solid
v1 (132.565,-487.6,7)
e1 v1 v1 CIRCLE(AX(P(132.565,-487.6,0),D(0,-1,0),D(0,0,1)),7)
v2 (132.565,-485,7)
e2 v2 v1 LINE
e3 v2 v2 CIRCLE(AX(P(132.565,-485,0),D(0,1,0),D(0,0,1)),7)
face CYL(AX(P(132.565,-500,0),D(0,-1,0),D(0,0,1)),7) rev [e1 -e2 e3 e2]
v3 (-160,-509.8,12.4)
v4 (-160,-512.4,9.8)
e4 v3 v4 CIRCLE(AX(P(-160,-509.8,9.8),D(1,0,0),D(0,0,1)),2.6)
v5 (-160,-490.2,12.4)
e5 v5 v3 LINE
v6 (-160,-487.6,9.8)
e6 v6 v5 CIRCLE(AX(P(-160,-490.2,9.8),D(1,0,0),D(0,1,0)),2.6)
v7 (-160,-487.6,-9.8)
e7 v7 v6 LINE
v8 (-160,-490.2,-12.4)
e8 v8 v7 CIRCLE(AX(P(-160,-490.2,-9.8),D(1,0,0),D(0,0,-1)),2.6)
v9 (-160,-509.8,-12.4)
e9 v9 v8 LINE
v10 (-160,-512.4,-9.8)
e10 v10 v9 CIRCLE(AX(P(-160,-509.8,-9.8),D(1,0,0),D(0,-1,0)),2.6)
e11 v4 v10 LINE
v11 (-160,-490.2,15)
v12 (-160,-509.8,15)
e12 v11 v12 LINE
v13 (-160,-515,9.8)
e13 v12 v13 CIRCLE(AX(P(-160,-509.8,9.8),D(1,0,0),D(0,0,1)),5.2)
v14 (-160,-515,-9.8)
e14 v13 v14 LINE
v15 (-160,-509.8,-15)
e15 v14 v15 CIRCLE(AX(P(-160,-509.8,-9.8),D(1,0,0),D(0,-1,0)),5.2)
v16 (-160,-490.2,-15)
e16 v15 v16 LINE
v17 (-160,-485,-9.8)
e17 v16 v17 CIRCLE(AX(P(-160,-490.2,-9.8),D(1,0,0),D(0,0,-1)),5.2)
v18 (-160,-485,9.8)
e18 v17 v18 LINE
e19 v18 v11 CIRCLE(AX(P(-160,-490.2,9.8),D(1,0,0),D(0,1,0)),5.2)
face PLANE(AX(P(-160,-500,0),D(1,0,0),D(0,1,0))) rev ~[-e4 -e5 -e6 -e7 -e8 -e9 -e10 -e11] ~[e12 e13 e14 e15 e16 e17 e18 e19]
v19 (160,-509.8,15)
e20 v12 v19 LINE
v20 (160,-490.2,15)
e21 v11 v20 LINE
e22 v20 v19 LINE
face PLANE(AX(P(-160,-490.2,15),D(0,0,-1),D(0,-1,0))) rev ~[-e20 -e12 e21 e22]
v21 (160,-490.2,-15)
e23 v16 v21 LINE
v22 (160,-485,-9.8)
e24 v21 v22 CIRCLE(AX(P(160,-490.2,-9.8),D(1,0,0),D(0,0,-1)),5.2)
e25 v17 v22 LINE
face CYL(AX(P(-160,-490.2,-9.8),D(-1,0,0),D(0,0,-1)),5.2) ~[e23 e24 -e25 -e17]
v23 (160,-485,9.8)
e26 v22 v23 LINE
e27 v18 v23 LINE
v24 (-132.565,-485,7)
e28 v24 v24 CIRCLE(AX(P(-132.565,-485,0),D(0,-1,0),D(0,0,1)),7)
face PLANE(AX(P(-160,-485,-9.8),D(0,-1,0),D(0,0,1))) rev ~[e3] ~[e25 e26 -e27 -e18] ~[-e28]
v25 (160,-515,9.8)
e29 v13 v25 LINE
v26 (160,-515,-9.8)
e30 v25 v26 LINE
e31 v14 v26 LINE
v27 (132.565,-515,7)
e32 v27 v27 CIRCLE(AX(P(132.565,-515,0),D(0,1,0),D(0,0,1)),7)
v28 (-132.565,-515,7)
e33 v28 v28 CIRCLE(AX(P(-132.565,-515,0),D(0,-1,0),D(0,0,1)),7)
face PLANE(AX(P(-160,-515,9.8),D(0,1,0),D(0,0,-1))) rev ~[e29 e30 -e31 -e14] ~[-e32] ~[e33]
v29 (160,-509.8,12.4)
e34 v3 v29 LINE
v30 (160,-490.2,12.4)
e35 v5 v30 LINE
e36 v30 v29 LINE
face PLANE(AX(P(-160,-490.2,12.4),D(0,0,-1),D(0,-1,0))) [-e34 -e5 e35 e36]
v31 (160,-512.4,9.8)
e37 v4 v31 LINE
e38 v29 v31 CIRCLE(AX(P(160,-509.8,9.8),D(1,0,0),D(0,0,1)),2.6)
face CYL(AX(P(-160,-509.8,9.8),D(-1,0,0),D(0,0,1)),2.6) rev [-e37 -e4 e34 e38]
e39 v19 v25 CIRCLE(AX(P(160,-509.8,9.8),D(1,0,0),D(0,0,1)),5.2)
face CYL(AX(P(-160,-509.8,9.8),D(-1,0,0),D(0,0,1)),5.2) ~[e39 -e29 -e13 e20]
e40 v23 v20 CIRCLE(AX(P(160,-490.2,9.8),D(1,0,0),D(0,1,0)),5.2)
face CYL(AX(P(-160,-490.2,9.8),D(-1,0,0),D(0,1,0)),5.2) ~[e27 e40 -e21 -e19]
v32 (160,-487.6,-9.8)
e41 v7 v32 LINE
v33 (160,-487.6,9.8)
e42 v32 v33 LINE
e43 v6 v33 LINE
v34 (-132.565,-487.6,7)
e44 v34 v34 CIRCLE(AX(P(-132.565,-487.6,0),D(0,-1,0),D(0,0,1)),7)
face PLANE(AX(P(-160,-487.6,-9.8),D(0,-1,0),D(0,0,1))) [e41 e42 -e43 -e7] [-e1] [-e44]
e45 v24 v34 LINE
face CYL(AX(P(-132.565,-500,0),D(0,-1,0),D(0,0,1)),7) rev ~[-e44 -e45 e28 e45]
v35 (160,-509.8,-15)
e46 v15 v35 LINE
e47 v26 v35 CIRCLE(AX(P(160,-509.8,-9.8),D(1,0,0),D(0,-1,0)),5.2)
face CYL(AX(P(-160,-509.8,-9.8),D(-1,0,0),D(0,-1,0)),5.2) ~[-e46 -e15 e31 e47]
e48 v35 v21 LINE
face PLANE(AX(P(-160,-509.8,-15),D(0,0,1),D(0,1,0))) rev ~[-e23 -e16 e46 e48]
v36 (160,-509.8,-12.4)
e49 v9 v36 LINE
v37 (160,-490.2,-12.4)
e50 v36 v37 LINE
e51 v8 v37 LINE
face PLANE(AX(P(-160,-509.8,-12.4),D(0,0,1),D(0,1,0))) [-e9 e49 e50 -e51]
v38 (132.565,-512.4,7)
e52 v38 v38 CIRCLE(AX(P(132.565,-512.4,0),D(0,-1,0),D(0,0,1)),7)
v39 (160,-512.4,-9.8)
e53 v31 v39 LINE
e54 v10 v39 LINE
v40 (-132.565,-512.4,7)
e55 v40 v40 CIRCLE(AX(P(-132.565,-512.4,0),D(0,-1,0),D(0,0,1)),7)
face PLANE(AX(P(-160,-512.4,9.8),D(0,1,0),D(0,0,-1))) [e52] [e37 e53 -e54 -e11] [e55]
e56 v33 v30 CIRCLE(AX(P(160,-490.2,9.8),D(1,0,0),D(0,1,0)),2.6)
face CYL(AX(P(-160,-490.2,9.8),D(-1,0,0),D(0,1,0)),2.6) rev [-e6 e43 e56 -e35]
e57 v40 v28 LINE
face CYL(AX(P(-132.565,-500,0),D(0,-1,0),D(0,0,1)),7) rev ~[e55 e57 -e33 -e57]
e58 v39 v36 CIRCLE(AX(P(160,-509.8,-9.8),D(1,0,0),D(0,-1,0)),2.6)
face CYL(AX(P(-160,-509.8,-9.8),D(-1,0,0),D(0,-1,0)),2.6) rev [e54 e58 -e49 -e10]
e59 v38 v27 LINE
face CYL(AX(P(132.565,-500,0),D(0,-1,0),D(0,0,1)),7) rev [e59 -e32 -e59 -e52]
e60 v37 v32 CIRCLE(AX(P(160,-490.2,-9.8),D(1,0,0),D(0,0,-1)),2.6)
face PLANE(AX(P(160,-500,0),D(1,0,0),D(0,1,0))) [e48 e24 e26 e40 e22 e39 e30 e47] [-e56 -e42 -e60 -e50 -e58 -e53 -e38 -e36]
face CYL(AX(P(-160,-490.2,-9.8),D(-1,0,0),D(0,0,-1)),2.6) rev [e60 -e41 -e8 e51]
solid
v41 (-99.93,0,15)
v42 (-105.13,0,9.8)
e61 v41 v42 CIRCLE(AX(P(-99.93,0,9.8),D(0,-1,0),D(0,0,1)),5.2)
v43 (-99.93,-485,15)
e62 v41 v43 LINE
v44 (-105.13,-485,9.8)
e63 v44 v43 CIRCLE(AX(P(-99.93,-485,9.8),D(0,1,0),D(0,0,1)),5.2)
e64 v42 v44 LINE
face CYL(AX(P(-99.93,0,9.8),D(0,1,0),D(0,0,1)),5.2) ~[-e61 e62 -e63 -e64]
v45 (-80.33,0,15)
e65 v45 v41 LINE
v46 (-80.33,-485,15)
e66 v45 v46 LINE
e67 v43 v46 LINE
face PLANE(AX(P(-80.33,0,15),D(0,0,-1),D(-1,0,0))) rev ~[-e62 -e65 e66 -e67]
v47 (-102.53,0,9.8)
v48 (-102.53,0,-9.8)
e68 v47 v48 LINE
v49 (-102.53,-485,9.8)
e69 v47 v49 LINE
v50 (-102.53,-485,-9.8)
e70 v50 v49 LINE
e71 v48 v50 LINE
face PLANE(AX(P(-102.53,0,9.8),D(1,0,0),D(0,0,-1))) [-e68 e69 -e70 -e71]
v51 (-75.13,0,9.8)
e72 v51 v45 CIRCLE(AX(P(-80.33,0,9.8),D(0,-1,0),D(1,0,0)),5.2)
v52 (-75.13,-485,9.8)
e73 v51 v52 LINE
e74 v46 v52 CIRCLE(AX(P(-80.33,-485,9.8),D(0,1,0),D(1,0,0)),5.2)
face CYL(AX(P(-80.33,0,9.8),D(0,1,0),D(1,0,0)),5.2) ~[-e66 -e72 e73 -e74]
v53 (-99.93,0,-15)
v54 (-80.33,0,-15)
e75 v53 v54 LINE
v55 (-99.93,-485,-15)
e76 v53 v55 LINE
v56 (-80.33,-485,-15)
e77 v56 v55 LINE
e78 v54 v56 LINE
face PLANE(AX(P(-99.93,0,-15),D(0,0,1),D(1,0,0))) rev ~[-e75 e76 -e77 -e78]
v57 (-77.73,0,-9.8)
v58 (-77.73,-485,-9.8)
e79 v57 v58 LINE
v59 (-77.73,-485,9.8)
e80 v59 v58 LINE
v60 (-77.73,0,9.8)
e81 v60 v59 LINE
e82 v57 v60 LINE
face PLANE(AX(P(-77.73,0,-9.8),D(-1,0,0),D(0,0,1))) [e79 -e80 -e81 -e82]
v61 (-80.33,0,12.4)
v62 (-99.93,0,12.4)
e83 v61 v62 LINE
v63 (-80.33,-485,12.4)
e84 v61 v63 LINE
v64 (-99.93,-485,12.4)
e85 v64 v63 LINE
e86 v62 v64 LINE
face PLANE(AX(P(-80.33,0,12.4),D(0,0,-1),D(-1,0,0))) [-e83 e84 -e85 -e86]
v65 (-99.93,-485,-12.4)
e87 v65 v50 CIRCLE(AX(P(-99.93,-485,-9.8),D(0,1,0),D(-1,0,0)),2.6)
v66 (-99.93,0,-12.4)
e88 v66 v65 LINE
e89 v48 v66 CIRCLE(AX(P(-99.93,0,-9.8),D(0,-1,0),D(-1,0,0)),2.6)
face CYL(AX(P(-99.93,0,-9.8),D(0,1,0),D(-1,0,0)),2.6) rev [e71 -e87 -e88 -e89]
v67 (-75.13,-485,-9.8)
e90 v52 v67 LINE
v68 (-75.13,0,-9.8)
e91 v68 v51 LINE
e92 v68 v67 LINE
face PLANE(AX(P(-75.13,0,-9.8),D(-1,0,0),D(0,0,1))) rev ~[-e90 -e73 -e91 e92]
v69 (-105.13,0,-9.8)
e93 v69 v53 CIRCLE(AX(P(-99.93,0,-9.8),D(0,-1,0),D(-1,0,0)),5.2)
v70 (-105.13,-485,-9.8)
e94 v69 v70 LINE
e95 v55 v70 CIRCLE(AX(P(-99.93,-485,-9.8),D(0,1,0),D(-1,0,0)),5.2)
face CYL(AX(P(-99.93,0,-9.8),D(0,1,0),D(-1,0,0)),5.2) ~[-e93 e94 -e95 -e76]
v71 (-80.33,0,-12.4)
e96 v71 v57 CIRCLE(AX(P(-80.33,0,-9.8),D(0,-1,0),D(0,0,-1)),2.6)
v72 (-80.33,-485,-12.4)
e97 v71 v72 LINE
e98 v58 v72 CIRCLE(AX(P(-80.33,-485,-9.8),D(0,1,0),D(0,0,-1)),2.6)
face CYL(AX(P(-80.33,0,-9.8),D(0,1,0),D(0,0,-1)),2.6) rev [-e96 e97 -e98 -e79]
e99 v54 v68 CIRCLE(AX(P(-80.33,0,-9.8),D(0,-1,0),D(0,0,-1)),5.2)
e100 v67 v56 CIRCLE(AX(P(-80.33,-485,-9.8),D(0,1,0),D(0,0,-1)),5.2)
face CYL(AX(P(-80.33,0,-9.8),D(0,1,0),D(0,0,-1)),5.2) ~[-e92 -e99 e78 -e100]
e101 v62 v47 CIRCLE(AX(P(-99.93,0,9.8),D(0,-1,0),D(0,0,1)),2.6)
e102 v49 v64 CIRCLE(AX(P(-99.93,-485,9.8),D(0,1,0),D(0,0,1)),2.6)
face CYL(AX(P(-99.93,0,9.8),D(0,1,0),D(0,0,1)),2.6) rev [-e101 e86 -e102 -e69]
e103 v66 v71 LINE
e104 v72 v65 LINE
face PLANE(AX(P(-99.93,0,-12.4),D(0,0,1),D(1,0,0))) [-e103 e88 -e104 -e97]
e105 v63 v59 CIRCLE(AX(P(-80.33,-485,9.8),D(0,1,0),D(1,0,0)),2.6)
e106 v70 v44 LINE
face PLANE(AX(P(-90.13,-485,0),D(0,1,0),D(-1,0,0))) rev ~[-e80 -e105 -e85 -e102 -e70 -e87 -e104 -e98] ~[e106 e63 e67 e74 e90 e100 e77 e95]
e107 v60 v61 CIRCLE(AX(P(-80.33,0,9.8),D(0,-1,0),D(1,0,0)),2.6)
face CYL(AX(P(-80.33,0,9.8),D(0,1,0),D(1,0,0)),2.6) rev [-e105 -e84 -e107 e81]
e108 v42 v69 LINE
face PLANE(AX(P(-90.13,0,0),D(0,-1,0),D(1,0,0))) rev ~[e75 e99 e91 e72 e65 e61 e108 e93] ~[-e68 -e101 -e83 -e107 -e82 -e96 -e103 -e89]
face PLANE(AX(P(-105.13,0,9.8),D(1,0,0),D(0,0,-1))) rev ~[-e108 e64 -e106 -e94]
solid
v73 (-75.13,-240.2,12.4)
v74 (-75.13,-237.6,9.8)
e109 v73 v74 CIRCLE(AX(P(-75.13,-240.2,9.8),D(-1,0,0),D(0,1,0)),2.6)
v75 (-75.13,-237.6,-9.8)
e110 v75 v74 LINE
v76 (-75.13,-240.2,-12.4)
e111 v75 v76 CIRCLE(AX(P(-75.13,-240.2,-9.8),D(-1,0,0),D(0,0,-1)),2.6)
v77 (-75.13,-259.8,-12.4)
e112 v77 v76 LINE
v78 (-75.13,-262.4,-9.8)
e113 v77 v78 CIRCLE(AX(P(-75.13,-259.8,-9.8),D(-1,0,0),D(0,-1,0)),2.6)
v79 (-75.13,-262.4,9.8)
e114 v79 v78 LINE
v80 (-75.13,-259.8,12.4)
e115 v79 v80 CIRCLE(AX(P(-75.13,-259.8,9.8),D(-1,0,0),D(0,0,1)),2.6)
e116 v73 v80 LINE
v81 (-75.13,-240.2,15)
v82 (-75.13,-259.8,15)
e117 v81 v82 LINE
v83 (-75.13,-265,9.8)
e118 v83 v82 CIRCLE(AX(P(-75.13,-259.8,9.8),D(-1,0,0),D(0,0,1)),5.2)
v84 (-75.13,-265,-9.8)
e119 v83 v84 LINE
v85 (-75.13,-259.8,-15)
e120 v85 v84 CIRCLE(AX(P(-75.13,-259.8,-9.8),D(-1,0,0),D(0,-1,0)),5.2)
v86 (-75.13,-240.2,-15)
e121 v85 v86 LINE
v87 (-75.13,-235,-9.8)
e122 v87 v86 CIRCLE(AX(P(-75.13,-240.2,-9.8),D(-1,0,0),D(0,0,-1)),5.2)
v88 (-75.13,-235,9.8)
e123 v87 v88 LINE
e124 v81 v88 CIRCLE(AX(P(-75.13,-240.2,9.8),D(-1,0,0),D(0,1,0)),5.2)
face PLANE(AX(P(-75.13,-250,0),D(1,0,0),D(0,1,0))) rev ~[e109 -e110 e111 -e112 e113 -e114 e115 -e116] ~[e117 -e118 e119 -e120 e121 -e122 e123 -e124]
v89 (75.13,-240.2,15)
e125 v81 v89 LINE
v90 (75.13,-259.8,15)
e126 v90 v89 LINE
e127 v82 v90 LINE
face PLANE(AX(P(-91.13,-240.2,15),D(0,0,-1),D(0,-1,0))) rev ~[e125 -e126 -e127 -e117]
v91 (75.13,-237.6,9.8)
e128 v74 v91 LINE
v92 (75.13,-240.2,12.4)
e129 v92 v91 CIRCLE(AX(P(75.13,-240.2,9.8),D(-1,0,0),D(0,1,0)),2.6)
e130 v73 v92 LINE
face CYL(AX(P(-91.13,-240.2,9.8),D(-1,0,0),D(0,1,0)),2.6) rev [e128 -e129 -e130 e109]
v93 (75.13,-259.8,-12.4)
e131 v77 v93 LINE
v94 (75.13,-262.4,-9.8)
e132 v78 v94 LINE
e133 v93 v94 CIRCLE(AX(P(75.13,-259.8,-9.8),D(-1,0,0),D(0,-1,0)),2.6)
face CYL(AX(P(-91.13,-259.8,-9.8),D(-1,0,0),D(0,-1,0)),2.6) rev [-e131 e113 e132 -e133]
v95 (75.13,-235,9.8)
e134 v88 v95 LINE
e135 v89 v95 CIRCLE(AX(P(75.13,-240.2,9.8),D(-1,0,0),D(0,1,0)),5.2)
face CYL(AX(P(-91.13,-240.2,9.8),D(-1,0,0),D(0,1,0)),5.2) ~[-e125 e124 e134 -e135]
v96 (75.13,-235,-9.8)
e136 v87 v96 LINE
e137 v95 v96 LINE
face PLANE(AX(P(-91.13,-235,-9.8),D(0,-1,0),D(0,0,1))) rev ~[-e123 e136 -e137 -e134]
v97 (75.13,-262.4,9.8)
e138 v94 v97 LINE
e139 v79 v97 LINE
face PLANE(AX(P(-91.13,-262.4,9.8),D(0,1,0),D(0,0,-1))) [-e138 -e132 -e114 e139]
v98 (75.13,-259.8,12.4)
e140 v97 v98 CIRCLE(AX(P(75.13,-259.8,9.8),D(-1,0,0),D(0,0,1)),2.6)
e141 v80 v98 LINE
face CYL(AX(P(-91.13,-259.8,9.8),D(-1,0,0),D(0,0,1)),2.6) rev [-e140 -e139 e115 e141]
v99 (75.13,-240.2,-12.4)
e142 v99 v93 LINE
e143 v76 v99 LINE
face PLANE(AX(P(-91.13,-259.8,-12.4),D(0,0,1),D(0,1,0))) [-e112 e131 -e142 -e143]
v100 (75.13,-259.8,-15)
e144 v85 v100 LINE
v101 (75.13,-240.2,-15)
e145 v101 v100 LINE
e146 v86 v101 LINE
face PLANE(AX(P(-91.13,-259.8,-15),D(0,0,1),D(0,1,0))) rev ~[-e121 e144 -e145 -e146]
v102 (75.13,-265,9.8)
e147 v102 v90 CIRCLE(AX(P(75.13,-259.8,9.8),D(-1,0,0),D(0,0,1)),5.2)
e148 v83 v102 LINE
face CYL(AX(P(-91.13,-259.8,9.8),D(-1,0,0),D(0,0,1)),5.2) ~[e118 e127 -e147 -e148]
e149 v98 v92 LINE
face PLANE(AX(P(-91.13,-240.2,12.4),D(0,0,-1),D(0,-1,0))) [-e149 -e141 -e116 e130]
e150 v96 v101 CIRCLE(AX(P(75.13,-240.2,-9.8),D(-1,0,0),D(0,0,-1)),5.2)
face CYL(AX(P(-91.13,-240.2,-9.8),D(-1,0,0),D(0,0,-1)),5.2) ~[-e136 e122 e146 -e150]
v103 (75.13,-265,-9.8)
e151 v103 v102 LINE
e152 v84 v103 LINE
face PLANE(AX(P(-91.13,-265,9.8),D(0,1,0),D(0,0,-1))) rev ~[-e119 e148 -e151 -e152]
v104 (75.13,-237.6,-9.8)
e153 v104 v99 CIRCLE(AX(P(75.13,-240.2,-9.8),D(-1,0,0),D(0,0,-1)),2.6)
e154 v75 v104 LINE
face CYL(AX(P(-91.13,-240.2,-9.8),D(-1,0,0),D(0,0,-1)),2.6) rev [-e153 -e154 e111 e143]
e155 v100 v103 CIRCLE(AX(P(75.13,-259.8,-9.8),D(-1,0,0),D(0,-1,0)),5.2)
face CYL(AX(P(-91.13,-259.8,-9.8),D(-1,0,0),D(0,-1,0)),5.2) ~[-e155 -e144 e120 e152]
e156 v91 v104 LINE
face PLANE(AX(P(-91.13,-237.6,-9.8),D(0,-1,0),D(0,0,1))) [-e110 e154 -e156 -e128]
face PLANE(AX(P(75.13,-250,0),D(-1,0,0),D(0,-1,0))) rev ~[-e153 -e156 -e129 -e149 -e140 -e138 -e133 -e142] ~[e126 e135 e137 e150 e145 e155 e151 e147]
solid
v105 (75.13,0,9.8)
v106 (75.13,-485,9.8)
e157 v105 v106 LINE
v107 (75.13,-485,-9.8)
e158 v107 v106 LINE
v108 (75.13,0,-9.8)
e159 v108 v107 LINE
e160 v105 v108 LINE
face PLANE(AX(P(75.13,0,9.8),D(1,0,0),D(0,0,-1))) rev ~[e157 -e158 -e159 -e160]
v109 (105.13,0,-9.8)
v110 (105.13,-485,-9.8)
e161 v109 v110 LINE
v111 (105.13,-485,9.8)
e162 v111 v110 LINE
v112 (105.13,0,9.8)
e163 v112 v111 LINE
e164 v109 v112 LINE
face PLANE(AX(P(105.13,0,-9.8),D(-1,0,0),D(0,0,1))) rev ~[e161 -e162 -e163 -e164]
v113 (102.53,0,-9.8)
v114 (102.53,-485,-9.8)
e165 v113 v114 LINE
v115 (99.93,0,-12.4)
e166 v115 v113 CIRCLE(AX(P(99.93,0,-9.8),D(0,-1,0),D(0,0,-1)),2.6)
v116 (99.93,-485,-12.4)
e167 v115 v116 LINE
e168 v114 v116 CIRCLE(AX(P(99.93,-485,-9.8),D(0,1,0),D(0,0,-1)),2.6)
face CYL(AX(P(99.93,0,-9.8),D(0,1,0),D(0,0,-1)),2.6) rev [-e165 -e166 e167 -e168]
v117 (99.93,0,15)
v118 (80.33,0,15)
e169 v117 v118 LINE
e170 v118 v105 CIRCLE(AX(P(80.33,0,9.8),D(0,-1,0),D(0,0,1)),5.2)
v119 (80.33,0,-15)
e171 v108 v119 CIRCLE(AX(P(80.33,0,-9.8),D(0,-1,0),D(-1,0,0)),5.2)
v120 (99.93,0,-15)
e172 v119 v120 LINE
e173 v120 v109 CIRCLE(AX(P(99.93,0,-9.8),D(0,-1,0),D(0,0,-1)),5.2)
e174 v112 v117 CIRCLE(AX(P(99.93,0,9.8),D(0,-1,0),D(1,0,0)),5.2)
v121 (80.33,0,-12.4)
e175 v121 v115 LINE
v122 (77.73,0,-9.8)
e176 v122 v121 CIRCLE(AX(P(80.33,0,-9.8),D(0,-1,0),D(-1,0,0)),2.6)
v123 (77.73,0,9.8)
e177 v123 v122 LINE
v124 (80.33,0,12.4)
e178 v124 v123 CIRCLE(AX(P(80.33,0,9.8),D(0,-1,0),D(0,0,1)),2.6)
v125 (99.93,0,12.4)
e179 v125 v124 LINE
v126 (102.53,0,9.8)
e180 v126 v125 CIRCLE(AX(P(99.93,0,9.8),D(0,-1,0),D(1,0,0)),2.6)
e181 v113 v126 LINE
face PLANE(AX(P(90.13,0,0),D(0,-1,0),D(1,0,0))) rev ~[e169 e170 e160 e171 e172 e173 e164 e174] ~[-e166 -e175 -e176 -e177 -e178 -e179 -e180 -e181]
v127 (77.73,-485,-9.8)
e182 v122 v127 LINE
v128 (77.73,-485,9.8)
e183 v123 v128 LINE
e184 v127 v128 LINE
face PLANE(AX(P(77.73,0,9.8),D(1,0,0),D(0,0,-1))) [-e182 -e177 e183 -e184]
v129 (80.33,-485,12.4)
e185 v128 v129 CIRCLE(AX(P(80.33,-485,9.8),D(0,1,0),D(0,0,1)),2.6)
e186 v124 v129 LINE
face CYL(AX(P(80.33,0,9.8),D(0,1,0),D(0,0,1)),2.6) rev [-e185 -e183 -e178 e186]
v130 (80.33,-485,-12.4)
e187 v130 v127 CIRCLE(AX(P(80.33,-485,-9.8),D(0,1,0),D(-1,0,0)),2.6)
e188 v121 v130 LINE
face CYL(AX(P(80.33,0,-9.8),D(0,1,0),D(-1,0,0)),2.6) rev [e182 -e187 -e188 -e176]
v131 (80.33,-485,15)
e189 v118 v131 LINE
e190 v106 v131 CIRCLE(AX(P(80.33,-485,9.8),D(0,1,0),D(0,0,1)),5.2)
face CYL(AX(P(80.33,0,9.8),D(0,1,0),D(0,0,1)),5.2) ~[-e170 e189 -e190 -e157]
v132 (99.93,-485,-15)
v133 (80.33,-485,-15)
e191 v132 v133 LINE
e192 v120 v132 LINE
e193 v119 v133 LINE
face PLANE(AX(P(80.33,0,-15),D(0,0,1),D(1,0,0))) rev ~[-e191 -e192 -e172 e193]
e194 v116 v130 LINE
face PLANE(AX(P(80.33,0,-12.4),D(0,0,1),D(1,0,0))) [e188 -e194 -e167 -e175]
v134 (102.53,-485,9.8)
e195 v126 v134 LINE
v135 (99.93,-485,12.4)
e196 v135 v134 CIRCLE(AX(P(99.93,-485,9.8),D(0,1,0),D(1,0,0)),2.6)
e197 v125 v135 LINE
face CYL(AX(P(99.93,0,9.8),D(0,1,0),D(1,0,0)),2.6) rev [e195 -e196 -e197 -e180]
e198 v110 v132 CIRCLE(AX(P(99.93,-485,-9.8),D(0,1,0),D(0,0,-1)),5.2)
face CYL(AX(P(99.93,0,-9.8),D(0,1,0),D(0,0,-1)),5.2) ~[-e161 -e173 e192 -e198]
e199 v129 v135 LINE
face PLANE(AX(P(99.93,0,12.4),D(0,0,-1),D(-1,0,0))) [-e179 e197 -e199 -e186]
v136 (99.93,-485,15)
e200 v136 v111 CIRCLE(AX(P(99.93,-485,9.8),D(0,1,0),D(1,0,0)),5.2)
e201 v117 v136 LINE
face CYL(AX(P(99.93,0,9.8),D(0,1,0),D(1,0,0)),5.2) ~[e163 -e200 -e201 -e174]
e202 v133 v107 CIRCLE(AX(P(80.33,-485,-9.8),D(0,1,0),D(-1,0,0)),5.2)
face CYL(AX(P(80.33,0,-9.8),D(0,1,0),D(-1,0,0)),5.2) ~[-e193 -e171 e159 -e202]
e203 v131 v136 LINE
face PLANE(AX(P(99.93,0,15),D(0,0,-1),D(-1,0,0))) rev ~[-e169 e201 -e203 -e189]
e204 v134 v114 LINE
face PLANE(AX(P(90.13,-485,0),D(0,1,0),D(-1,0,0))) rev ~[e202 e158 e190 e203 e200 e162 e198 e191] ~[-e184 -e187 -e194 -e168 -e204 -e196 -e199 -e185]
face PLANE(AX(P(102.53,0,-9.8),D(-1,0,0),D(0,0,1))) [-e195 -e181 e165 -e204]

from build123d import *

# Parameters (mm, degrees)
SQUARE_TUBE_CONFIGURED_30_X_30_X_2_6_1_DEPTH = 501
SQUARE_TUBE_CONFIGURED_30_X_30_X_2_3_DEPTH   = 501
SQUARE_TUBE_CONFIGURED_30_X_30_X_2_4_DEPTH   = 320
SQUARE_TUBE_CONFIGURED_30_X_30_X_2_5_DEPTH   = 182.26
IZIM9_W                                      = 7
IZIM9_H                                      = 30


with BuildPart() as part:
    # Sketch1 → Square tube - configured 30 X 30 X 2.6(1) (new body)
    with BuildSketch(Plane(origin=(-90.13, 0, 0), x_dir=(1, 0, 0), z_dir=(0, -1, 0))):
        with BuildLine():
            Line((-9.8, -15), (9.8, -15))
            ThreePointArc((9.8, -15), (13.476955262, -13.476955262), (15, -9.8))
            Line((15, -9.8), (15, 9.8))
            ThreePointArc((15, 9.8), (13.476955262, 13.476955262), (9.8, 15))
            Line((9.8, 15), (-9.8, 15))
            ThreePointArc((-9.8, 15), (-13.476955262, 13.476955262), (-15, 9.8))
            Line((-15, 9.8), (-15, -9.8))
            ThreePointArc((-15, -9.8), (-13.476955262, -13.476955262), (-9.8, -15))
        make_face()
        with BuildLine():
            Line((-9.8, -12.4), (9.8, -12.4))
            ThreePointArc((9.8, -12.4), (11.638477631, -11.638477631), (12.4, -9.8))
            Line((12.4, -9.8), (12.4, 9.8))
            ThreePointArc((12.4, 9.8), (11.638477631, 11.638477631), (9.8, 12.4))
            Line((9.8, 12.4), (-9.8, 12.4))
            ThreePointArc((-9.8, 12.4), (-11.638477631, 11.638477631), (-12.4, 9.8))
            Line((-12.4, 9.8), (-12.4, -9.8))
            ThreePointArc((-12.4, -9.8), (-11.638477631, -11.638477631), (-9.8, -12.4))
        make_face(mode=Mode.SUBTRACT)
    extrude(amount=SQUARE_TUBE_CONFIGURED_30_X_30_X_2_6_1_DEPTH)

    # Square tube - configured 30 X 30 X 2 2
    split(bisect_by=Plane(origin=(-90.13, -485, 0), x_dir=(-1, 0, 0), z_dir=(0, 1, 0)), keep=Keep.TOP)


with BuildPart() as body_2:
    # Sketch1 on segment 2 (carried to segment 2) → Square tube - configured 30 X 30 X 2 3 (new body)
    with BuildSketch(Plane(origin=(90.13, 0, 0), x_dir=(1, 0, 0), z_dir=(0, -1, 0))):
        with BuildLine():
            Line((-9.8, -15), (9.8, -15))
            ThreePointArc((9.8, -15), (13.476955262, -13.476955262), (15, -9.8))
            Line((15, -9.8), (15, 9.8))
            ThreePointArc((15, 9.8), (13.476955262, 13.476955262), (9.8, 15))
            Line((9.8, 15), (-9.8, 15))
            ThreePointArc((-9.8, 15), (-13.476955262, 13.476955262), (-15, 9.8))
            Line((-15, 9.8), (-15, -9.8))
            ThreePointArc((-15, -9.8), (-13.476955262, -13.476955262), (-9.8, -15))
        make_face()
        with BuildLine():
            Line((-9.8, -12.4), (9.8, -12.4))
            ThreePointArc((9.8, -12.4), (11.638477631, -11.638477631), (12.4, -9.8))
            Line((12.4, -9.8), (12.4, 9.8))
            ThreePointArc((12.4, 9.8), (11.638477631, 11.638477631), (9.8, 12.4))
            Line((9.8, 12.4), (-9.8, 12.4))
            ThreePointArc((-9.8, 12.4), (-11.638477631, 11.638477631), (-12.4, 9.8))
            Line((-12.4, 9.8), (-12.4, -9.8))
            ThreePointArc((-12.4, -9.8), (-11.638477631, -11.638477631), (-9.8, -12.4))
        make_face(mode=Mode.SUBTRACT)
    extrude(amount=SQUARE_TUBE_CONFIGURED_30_X_30_X_2_3_DEPTH)

    # Square tube - configured 30 X 30 X 2 3 e
    split(bisect_by=Plane(origin=(90.13, -485, 0), x_dir=(-1, 0, 0), z_dir=(0, 1, 0)), keep=Keep.TOP)


with BuildPart() as body_3:
    # Sketch1 on segment 3 (carried to segment 3) → Square tube - configured 30 X 30 X 2 4 (new body)
    with BuildSketch(Plane(origin=(-160, -500, 0), x_dir=(0, 1, 0), z_dir=(1, 0, 0))):
        with BuildLine():
            Line((-9.8, -15), (9.8, -15))
            ThreePointArc((9.8, -15), (13.476955262, -13.476955262), (15, -9.8))
            Line((15, -9.8), (15, 9.8))
            ThreePointArc((15, 9.8), (13.476955262, 13.476955262), (9.8, 15))
            Line((9.8, 15), (-9.8, 15))
            ThreePointArc((-9.8, 15), (-13.476955262, 13.476955262), (-15, 9.8))
            Line((-15, 9.8), (-15, -9.8))
            ThreePointArc((-15, -9.8), (-13.476955262, -13.476955262), (-9.8, -15))
        make_face()
        with BuildLine():
            Line((-9.8, -12.4), (9.8, -12.4))
            ThreePointArc((9.8, -12.4), (11.638477631, -11.638477631), (12.4, -9.8))
            Line((12.4, -9.8), (12.4, 9.8))
            ThreePointArc((12.4, 9.8), (11.638477631, 11.638477631), (9.8, 12.4))
            Line((9.8, 12.4), (-9.8, 12.4))
            ThreePointArc((-9.8, 12.4), (-11.638477631, 11.638477631), (-12.4, 9.8))
            Line((-12.4, 9.8), (-12.4, -9.8))
            ThreePointArc((-12.4, -9.8), (-11.638477631, -11.638477631), (-9.8, -12.4))
        make_face(mode=Mode.SUBTRACT)
    extrude(amount=SQUARE_TUBE_CONFIGURED_30_X_30_X_2_4_DEPTH)

    # Çizim9 → M16 Dişli Delik1 (revolve, cut)
    with BuildSketch(Plane(origin=(-132.565, -485, 0), x_dir=(0, 0, 1), z_dir=(1, 0, 0))):
        with Locations((3.5, 15)):
            Rectangle(IZIM9_W, IZIM9_H)
    m16_di_li_delik1 = revolve(axis=Axis((-132.565, -478.65, 0), (0, -1, 0)), mode=Mode.SUBTRACT)

    # Aynalama1: M16 Dişli Delik1 across plane
    add(m16_di_li_delik1.mirror(Plane(origin=(0, 0, 0), x_dir=(0, 0, 1), z_dir=(1, 0, 0))), mode=Mode.SUBTRACT)


with BuildPart() as body_4:
    # Sketch1 on segment 4 (carried to segment 4) → Square tube - configured 30 X 30 X 2 5 (new body)
    with BuildSketch(Plane(origin=(-91.13, -250, 0), x_dir=(0, 1, 0), z_dir=(1, 0, 0))):
        with BuildLine():
            Line((-9.8, -15), (9.8, -15))
            ThreePointArc((9.8, -15), (13.476955262, -13.476955262), (15, -9.8))
            Line((15, -9.8), (15, 9.8))
            ThreePointArc((15, 9.8), (13.476955262, 13.476955262), (9.8, 15))
            Line((9.8, 15), (-9.8, 15))
            ThreePointArc((-9.8, 15), (-13.476955262, 13.476955262), (-15, 9.8))
            Line((-15, 9.8), (-15, -9.8))
            ThreePointArc((-15, -9.8), (-13.476955262, -13.476955262), (-9.8, -15))
        make_face()
        with BuildLine():
            Line((-9.8, -12.4), (9.8, -12.4))
            ThreePointArc((9.8, -12.4), (11.638477631, -11.638477631), (12.4, -9.8))
            Line((12.4, -9.8), (12.4, 9.8))
            ThreePointArc((12.4, 9.8), (11.638477631, 11.638477631), (9.8, 12.4))
            Line((9.8, 12.4), (-9.8, 12.4))
            ThreePointArc((-9.8, 12.4), (-11.638477631, 11.638477631), (-12.4, 9.8))
            Line((-12.4, 9.8), (-12.4, -9.8))
            ThreePointArc((-12.4, -9.8), (-11.638477631, -11.638477631), (-9.8, -12.4))
        make_face(mode=Mode.SUBTRACT)
    extrude(amount=SQUARE_TUBE_CONFIGURED_30_X_30_X_2_5_DEPTH)

    # Square tube - configured 30 X 30 X 2 5 e
    split(bisect_by=Plane(origin=(-75.13, -250, 0), x_dir=(0, 1, 0), z_dir=(1, 0, 0)), keep=Keep.TOP)

    # Square tube - configured 30 X 30 X 2 6
    split(bisect_by=Plane(origin=(75.13, -250, 0), x_dir=(0, -1, 0), z_dir=(-1, 0, 0)), keep=Keep.TOP)


solid = Compound([part.part, body_2.part, body_3.part, body_4.part])
